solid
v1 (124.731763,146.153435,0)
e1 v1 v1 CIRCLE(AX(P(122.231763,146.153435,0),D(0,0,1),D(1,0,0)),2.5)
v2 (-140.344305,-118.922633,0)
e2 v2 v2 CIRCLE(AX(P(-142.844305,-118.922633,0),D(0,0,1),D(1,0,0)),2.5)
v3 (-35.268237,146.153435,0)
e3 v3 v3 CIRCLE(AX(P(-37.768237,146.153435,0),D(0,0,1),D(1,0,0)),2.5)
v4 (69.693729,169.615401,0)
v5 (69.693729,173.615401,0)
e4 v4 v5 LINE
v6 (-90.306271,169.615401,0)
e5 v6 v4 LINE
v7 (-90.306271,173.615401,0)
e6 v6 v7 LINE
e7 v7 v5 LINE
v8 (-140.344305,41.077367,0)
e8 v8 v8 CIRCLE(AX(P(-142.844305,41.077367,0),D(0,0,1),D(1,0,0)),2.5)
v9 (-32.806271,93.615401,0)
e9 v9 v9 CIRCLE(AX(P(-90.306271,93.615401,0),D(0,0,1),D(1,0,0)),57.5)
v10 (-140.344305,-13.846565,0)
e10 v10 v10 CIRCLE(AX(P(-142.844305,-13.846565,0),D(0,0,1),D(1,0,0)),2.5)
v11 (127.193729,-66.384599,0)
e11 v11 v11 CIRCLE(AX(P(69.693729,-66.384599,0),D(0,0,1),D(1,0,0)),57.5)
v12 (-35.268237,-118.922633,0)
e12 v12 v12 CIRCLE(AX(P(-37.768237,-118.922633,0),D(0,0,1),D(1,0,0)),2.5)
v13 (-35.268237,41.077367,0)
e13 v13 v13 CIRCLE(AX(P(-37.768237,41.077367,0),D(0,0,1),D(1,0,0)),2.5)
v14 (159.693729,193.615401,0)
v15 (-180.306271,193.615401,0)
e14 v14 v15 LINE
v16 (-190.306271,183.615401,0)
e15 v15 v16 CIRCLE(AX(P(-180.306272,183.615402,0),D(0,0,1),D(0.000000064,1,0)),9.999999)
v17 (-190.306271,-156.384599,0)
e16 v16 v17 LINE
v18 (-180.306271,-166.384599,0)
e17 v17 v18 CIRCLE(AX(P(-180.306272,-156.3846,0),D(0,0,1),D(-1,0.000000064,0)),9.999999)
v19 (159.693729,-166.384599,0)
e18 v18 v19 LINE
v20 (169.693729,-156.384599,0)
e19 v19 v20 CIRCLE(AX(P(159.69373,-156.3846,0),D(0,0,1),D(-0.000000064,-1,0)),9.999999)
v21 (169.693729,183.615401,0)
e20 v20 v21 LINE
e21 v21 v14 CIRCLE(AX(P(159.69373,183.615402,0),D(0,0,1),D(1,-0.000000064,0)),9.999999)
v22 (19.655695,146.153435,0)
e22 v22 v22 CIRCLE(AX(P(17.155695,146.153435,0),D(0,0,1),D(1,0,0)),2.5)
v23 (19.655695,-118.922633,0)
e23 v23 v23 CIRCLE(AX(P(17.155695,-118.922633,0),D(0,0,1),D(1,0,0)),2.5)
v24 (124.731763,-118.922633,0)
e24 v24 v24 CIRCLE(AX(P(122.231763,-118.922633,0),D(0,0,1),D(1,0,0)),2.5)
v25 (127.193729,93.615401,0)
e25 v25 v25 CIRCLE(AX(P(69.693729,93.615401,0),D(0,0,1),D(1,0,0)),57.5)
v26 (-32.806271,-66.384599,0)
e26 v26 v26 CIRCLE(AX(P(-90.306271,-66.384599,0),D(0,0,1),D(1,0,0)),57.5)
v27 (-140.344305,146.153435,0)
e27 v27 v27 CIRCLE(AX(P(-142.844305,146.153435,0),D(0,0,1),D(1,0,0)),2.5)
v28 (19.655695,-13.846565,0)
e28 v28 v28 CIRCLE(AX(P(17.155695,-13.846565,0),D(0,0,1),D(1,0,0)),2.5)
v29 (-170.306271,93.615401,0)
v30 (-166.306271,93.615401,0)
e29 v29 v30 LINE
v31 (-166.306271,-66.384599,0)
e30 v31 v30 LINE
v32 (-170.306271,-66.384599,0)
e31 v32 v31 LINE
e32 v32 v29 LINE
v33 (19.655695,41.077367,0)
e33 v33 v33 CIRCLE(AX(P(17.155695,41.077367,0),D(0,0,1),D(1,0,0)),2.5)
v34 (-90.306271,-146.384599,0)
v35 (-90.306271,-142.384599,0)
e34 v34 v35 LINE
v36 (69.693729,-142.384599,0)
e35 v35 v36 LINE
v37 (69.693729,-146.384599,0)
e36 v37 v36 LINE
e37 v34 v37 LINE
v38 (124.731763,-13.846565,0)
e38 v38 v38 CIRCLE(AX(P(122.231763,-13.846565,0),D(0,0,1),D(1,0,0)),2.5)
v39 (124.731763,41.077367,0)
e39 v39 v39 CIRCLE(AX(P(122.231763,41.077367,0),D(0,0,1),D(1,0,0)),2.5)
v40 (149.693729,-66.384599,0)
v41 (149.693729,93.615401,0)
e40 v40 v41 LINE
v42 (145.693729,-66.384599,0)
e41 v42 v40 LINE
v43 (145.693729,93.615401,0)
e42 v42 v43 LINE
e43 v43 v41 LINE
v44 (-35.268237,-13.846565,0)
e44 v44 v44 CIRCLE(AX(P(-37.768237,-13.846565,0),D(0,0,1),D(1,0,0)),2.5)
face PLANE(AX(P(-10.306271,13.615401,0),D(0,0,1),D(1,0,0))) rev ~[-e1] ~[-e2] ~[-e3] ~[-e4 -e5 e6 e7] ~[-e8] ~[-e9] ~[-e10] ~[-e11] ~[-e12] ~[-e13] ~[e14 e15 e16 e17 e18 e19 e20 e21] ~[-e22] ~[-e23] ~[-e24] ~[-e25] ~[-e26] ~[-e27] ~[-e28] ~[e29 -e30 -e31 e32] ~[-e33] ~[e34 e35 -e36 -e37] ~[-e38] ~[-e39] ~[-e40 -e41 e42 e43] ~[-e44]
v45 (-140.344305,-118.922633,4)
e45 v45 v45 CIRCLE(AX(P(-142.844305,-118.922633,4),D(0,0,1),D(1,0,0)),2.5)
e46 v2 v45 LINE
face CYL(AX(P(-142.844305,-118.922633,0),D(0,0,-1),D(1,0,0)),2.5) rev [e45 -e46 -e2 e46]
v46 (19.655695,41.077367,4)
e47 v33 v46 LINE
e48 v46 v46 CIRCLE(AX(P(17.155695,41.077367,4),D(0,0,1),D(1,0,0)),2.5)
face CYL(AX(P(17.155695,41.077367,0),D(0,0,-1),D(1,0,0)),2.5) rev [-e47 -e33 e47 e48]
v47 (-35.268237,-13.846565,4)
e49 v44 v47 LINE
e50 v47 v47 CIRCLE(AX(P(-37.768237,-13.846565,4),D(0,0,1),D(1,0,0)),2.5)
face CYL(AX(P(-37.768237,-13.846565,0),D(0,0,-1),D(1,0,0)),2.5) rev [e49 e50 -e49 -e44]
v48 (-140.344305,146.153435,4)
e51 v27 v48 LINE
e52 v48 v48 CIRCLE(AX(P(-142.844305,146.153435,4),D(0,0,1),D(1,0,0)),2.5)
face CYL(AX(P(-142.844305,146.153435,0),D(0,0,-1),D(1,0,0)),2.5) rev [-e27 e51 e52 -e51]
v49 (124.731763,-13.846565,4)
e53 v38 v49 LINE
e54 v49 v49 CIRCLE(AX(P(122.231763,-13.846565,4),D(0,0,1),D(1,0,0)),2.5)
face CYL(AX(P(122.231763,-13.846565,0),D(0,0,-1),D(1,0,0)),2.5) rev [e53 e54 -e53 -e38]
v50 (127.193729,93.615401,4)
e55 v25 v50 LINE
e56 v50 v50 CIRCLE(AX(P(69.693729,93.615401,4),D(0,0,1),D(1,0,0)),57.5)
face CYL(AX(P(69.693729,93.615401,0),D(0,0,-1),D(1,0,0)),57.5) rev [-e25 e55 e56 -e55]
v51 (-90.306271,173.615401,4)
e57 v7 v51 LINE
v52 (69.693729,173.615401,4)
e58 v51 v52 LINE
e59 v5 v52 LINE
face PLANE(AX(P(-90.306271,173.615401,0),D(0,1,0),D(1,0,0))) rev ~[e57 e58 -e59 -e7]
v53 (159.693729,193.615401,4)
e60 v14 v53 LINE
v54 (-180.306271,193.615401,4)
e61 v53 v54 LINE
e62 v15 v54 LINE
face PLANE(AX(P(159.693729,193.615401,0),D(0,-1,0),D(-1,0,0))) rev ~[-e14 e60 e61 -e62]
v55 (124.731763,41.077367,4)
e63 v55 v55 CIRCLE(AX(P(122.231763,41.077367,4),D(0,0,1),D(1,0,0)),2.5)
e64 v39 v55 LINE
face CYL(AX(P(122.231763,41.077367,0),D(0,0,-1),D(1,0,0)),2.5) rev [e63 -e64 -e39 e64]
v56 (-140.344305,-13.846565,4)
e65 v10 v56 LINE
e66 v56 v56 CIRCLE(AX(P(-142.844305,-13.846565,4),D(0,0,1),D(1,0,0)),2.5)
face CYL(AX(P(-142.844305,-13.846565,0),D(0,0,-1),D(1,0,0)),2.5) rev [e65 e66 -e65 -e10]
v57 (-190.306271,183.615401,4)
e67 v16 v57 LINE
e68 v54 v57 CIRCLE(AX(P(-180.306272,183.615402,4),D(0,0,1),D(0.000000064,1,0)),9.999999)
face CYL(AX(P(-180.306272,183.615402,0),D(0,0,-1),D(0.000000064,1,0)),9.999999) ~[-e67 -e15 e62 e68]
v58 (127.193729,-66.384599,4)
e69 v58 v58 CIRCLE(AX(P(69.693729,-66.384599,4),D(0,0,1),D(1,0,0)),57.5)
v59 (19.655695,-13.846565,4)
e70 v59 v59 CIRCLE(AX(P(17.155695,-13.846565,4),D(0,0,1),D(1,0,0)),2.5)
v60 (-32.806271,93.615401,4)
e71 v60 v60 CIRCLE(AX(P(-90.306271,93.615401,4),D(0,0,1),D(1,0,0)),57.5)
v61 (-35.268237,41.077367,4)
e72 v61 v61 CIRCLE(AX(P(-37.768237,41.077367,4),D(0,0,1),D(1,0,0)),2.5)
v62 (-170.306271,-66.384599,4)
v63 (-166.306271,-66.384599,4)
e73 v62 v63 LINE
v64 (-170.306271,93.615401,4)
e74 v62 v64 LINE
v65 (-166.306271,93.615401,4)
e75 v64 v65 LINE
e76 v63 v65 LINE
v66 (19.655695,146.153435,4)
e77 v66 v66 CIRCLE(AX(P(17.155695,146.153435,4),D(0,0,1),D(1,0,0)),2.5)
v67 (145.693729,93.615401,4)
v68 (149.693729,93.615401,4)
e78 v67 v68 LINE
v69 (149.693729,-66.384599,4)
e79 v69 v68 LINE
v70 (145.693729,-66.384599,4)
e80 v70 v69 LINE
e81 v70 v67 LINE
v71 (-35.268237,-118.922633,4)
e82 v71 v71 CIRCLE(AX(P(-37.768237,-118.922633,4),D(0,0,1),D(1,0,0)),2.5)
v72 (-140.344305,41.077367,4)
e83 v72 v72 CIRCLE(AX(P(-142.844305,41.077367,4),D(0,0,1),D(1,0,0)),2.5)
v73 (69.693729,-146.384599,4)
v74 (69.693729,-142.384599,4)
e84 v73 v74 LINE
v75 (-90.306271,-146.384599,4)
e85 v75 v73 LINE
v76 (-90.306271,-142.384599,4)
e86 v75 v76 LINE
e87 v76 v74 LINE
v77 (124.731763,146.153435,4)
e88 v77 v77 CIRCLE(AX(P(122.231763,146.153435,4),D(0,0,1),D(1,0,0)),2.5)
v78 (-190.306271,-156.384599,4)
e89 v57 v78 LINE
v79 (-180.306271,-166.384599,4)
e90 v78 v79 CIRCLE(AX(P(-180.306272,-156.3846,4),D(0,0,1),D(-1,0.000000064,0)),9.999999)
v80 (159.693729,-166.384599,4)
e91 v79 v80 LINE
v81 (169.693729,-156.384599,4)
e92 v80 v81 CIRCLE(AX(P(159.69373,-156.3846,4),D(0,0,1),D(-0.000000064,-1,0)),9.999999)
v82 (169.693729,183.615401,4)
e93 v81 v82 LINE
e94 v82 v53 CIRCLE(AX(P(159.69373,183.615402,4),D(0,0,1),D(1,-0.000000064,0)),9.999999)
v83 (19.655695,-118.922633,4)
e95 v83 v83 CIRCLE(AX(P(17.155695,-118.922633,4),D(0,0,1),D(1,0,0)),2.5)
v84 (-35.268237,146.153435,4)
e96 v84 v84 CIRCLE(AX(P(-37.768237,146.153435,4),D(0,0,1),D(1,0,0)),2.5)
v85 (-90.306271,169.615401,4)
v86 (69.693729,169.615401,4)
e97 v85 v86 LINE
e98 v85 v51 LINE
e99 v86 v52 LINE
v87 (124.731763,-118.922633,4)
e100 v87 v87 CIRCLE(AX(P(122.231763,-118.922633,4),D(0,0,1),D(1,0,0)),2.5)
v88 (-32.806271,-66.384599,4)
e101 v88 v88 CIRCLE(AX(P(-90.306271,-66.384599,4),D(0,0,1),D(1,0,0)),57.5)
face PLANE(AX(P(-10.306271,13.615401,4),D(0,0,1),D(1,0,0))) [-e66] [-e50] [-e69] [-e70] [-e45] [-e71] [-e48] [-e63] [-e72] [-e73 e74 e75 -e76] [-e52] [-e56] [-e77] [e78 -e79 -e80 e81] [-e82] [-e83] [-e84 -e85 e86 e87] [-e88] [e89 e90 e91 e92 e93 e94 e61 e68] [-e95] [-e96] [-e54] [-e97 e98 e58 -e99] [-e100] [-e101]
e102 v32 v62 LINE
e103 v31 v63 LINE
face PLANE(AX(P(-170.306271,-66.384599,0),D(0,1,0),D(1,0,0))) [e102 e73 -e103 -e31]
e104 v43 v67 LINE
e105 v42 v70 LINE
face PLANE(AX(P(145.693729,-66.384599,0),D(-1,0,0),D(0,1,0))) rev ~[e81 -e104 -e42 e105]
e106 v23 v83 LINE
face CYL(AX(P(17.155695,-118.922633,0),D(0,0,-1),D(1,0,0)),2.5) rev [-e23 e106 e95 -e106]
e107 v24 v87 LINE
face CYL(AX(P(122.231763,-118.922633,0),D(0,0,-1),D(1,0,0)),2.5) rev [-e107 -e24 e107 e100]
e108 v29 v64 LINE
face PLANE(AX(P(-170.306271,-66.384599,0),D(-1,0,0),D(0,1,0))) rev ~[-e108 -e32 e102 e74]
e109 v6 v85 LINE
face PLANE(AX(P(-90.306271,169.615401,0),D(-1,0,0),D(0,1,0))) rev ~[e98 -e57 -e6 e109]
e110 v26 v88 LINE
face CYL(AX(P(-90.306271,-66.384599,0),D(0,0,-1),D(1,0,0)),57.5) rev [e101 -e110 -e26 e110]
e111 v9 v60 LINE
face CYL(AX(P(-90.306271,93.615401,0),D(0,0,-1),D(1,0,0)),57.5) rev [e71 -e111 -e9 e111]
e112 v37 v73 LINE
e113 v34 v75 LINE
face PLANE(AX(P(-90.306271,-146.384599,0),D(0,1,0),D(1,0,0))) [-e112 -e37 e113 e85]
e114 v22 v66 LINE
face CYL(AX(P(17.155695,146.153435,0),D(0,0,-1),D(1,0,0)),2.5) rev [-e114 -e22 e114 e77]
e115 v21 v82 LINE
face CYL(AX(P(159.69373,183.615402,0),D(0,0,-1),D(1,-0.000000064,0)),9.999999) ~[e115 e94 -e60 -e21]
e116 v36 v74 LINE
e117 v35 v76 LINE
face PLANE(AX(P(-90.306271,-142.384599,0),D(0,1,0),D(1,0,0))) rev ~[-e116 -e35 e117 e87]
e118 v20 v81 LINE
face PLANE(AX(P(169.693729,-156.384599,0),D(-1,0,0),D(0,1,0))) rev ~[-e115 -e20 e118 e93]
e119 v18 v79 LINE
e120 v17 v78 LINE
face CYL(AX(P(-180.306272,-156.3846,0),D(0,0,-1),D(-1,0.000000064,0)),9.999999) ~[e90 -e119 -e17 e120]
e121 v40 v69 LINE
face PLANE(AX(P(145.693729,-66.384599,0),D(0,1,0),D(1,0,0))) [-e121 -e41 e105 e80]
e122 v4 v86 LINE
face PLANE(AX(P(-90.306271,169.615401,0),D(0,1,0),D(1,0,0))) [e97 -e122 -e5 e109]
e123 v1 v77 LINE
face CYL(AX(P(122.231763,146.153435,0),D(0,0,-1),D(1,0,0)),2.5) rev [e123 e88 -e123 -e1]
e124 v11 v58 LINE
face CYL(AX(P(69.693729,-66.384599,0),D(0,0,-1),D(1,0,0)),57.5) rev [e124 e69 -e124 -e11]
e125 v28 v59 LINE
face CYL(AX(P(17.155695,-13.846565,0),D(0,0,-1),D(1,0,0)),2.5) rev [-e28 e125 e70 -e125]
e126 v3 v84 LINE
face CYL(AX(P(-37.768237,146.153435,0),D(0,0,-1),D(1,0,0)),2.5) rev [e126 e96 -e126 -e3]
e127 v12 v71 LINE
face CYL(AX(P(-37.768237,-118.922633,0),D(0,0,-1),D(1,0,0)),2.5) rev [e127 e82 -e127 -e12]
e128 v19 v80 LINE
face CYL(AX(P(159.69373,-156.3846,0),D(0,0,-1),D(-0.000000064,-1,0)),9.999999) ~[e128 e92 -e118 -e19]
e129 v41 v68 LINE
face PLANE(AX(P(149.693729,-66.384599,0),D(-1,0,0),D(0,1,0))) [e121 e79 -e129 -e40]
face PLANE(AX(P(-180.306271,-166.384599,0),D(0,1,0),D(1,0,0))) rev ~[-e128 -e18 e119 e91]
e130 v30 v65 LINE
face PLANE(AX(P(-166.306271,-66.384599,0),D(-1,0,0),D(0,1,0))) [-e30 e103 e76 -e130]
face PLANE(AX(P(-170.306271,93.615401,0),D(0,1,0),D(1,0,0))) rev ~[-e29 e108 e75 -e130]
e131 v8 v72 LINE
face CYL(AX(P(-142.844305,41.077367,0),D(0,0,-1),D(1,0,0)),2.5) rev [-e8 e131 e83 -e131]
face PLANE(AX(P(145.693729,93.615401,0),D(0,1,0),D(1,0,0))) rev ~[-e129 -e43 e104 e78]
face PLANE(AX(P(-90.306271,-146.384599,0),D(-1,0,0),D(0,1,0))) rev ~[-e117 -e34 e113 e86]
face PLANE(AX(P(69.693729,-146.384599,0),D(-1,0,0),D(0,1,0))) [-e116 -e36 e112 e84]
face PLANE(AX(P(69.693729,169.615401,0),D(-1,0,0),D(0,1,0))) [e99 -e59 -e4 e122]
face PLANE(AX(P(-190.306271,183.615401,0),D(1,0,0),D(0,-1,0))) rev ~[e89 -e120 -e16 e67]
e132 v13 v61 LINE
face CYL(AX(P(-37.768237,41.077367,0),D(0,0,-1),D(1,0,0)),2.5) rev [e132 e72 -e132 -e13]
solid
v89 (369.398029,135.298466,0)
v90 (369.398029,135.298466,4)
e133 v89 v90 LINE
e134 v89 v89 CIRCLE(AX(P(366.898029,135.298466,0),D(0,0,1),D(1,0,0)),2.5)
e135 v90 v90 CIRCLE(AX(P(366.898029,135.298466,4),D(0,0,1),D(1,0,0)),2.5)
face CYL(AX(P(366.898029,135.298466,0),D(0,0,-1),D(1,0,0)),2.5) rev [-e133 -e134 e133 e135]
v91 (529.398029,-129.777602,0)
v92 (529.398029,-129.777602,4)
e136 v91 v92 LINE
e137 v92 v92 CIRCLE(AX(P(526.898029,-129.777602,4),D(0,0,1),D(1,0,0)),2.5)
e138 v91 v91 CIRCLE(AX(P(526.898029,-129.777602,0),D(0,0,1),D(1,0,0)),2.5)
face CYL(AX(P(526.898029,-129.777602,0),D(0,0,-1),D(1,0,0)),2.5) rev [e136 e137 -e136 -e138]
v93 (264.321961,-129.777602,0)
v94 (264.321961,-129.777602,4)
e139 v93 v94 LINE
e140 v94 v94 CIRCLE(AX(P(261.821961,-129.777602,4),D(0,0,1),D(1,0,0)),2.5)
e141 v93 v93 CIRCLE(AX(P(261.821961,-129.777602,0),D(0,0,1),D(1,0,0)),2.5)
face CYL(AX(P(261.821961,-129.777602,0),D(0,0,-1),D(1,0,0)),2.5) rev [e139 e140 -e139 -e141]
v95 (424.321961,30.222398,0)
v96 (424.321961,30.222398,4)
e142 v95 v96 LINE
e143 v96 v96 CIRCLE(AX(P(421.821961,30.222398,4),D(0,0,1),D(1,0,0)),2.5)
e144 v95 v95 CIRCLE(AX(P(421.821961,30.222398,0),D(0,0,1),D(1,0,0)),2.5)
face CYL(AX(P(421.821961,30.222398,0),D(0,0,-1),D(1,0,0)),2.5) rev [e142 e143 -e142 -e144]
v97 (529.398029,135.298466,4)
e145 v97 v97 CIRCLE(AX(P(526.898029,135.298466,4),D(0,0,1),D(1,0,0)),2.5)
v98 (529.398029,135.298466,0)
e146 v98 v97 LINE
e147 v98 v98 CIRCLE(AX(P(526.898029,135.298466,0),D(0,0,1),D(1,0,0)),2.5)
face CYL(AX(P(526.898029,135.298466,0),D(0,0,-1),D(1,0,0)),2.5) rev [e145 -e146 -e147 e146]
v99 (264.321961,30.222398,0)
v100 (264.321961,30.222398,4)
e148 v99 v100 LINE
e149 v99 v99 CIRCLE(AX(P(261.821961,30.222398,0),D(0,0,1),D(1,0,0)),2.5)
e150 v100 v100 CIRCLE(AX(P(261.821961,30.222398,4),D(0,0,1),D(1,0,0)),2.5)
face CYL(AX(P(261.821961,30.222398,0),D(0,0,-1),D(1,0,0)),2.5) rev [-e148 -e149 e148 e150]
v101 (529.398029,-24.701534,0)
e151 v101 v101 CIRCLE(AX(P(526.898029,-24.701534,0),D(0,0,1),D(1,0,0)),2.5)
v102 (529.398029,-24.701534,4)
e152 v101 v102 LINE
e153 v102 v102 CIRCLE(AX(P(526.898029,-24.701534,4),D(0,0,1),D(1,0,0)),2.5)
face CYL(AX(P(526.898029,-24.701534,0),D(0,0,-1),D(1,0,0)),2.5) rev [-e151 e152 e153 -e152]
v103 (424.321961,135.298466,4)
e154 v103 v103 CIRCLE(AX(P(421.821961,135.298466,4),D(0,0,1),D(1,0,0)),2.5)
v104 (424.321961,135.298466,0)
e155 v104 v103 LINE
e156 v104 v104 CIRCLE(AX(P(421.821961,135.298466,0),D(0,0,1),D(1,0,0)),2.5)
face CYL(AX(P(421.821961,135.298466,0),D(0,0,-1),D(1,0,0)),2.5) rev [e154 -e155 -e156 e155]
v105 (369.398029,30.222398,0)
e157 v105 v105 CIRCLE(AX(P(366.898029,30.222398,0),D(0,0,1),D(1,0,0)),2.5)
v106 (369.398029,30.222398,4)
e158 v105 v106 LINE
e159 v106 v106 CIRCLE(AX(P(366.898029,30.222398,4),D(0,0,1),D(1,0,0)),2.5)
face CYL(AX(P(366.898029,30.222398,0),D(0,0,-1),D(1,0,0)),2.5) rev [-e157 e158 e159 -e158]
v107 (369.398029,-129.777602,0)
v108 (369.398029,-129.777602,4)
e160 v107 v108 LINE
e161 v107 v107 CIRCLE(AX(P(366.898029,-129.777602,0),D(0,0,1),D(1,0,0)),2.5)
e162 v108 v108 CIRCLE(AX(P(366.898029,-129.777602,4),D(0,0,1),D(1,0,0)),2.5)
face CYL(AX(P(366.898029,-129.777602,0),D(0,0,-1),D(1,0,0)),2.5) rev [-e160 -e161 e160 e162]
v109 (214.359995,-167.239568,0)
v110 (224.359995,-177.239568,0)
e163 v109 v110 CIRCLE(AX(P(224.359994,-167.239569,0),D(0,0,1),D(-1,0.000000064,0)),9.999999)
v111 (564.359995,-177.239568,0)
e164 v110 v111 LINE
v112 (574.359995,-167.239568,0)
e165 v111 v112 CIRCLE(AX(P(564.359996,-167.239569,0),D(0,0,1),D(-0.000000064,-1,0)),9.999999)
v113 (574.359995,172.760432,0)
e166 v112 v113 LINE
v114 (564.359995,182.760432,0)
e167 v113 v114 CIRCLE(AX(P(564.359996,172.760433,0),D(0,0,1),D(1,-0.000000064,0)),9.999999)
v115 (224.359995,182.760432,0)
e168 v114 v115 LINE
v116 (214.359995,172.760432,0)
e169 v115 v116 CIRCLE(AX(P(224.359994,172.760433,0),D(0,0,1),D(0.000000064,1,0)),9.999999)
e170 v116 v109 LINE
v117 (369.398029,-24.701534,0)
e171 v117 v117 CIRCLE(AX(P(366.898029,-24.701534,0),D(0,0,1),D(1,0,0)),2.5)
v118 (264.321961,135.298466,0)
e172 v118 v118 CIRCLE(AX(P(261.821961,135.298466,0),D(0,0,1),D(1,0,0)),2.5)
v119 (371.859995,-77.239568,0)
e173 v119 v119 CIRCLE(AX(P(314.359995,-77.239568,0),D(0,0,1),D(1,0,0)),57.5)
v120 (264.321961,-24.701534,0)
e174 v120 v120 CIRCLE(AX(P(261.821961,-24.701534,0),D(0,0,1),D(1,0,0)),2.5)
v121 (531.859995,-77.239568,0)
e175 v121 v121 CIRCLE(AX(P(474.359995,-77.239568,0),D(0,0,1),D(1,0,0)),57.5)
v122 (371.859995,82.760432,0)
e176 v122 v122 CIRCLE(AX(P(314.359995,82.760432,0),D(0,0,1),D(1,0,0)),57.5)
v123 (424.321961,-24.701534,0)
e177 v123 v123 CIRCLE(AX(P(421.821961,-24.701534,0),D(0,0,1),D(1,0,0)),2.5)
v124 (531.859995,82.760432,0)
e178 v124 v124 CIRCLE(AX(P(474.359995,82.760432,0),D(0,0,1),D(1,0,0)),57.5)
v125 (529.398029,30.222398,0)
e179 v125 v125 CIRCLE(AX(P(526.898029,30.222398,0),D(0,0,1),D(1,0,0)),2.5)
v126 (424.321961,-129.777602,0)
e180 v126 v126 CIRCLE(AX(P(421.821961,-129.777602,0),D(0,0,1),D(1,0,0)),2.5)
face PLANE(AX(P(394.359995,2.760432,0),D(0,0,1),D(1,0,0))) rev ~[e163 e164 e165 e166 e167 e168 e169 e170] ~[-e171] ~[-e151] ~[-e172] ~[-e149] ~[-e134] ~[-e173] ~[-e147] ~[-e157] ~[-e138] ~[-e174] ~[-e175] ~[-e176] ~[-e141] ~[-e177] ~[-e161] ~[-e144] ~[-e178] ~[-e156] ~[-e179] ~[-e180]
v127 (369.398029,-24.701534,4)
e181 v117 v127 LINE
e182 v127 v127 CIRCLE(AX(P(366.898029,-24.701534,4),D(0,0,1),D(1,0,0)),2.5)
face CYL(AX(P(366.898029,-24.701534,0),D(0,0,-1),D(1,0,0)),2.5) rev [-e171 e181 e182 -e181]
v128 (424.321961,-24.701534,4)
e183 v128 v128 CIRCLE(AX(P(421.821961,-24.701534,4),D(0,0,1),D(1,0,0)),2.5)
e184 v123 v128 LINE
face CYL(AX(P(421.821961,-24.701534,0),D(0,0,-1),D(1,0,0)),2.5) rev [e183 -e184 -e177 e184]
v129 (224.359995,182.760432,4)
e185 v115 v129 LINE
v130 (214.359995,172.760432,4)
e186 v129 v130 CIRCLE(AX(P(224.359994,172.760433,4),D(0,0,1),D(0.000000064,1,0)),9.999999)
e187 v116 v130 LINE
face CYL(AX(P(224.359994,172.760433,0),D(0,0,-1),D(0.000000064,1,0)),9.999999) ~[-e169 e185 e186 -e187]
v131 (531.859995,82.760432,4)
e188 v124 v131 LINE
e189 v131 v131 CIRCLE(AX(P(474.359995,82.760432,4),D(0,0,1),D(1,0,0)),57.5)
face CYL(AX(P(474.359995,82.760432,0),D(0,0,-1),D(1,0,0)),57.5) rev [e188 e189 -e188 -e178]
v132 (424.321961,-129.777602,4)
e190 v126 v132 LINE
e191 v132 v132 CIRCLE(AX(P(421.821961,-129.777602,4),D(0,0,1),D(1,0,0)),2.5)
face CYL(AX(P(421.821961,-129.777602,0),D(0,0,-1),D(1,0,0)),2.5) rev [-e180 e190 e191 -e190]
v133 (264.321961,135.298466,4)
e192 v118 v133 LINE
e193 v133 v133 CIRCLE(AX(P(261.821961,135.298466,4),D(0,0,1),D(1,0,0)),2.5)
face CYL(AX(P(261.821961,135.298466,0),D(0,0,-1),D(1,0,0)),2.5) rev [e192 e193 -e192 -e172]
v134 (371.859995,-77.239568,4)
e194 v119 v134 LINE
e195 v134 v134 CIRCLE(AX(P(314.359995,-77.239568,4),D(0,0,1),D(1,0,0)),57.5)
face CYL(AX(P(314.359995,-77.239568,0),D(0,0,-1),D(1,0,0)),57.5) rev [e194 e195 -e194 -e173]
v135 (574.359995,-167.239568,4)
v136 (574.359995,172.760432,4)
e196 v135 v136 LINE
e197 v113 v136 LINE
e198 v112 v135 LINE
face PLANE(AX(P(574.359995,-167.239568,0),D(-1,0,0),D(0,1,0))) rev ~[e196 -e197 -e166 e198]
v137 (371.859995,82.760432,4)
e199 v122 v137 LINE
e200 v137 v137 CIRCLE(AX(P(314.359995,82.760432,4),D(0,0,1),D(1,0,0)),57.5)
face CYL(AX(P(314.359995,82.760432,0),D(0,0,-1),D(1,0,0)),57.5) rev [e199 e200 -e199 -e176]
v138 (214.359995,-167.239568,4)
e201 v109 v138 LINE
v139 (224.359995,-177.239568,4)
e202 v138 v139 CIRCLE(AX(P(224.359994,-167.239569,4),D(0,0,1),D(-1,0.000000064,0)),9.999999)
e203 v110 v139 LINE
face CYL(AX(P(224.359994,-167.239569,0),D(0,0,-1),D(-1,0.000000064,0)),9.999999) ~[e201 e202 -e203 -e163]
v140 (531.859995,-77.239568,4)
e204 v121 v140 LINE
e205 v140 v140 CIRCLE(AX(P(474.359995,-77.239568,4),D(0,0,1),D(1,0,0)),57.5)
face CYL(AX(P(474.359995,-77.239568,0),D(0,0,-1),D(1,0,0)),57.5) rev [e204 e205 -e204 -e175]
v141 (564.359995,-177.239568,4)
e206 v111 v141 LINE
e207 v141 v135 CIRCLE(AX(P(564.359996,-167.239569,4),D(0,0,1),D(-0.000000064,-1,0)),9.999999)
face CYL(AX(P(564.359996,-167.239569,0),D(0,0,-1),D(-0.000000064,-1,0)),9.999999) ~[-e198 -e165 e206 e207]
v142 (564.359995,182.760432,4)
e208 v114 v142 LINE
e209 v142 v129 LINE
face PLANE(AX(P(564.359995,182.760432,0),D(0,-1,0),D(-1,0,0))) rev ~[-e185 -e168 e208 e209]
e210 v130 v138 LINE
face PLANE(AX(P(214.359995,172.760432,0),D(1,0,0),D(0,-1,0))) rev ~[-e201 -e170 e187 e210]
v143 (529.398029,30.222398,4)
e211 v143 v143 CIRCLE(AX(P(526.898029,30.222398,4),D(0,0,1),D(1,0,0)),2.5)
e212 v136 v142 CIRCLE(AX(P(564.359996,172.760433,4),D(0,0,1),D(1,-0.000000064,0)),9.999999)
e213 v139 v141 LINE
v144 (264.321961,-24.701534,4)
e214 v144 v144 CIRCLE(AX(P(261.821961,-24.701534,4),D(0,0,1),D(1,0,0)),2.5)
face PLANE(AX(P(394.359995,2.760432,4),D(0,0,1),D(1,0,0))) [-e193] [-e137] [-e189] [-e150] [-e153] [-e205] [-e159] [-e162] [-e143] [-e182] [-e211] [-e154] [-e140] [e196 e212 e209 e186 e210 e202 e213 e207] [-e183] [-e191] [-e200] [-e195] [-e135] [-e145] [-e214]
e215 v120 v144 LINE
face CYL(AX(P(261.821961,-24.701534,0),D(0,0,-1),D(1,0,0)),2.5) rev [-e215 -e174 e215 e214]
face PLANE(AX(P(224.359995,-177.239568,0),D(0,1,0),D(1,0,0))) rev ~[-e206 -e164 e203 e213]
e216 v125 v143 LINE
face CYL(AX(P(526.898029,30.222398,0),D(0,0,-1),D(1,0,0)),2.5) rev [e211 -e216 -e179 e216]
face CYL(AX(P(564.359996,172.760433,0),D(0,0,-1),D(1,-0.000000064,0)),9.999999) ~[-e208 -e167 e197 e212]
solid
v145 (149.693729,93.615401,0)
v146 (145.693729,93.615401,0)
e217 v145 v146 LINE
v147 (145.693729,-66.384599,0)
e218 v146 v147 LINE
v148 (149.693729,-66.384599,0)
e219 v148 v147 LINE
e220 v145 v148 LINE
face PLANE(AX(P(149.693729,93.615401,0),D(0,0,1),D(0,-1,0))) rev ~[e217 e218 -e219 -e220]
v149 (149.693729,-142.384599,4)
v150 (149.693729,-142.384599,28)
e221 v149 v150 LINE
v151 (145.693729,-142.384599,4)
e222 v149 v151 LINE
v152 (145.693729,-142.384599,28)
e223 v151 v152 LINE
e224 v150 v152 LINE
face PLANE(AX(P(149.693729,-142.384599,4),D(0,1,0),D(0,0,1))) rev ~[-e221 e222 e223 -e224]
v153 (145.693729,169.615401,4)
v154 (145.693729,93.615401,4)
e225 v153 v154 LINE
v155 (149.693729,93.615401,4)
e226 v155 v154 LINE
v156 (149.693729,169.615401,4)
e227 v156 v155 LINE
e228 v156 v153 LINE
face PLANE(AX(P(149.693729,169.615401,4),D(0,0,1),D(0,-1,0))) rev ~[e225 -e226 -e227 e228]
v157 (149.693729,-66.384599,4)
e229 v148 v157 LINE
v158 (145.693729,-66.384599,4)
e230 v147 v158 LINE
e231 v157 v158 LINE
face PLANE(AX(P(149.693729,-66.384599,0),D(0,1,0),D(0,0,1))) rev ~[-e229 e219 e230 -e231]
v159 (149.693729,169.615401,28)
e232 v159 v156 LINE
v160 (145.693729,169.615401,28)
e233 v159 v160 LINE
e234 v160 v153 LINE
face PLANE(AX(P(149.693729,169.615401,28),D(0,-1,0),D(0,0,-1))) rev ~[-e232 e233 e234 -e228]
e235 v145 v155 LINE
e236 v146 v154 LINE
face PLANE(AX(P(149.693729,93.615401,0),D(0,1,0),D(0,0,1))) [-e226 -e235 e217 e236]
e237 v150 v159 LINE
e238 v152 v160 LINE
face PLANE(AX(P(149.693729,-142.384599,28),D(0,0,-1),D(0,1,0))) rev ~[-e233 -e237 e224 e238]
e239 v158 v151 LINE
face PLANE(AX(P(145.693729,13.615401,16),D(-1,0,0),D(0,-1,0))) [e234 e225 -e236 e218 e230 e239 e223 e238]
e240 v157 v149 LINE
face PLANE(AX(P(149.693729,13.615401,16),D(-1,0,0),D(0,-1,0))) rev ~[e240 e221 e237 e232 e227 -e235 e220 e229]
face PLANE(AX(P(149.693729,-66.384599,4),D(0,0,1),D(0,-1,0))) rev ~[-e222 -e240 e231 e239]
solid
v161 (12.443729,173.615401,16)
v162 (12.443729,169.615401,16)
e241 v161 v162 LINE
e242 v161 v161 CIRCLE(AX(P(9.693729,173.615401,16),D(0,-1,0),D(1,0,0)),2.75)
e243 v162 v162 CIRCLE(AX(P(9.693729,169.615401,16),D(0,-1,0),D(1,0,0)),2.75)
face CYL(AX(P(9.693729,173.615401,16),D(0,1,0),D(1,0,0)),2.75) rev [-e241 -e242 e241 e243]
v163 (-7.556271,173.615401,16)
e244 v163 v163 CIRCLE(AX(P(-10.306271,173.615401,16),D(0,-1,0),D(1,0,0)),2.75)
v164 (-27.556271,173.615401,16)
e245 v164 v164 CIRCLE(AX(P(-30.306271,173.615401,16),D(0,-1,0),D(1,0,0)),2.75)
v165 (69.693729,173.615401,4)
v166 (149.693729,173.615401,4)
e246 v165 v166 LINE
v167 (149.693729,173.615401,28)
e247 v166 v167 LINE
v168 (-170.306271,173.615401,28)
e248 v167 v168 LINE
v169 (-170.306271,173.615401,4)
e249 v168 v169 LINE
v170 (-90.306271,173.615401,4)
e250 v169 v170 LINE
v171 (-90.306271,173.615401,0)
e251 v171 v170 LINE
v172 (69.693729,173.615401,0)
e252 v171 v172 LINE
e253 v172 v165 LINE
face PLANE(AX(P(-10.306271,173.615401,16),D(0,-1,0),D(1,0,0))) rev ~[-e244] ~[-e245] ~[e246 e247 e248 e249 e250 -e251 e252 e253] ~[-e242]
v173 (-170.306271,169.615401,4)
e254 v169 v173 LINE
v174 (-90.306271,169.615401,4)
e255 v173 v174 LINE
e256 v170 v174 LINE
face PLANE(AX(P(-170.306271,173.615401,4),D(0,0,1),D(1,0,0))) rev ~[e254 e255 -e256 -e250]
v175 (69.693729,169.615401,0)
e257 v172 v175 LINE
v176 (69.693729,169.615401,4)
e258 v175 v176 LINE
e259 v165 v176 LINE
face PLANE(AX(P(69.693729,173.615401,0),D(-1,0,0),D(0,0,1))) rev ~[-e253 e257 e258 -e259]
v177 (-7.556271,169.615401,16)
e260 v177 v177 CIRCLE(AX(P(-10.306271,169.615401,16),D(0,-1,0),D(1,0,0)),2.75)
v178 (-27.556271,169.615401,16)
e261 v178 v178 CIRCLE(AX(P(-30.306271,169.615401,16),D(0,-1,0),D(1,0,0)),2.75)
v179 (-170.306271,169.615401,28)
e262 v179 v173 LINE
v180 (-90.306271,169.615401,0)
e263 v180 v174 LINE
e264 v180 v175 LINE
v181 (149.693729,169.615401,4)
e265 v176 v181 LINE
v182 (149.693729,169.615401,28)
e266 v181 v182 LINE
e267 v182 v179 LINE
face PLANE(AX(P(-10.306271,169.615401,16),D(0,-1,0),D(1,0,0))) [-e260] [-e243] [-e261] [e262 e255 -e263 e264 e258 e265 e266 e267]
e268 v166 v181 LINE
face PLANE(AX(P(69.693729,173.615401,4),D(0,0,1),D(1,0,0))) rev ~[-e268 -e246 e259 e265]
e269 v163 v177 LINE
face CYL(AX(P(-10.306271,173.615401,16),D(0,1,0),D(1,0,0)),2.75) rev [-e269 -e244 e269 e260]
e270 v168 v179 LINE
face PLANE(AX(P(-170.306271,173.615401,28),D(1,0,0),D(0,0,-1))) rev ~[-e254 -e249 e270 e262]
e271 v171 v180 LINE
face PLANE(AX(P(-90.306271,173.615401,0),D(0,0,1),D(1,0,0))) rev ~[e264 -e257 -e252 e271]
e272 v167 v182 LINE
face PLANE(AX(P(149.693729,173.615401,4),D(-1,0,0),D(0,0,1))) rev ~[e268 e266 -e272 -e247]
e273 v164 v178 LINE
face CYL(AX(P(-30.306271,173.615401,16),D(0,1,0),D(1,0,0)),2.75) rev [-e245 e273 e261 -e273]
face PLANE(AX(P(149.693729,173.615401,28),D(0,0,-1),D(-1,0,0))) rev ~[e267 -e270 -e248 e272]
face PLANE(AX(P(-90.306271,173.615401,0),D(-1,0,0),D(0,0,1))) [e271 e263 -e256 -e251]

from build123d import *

# Parameters (mm, degrees)
F0_W     = 160
F0_H     = 4
F0_R     = 2.5
F0_R_2   = 57.5
F0_W_2   = 4
F0_H_2   = 160
F1_DEPTH = 4
F2_R     = 2.75
F2_W     = 160
F2_H     = 4
F3_DEPTH = 4
F4_W     = 160
F4_H     = 4
F5_DEPTH = 4


with BuildPart() as f1:
    # F0 (on Top) → F1 (new body)
    with BuildSketch(Plane.XY):
        with BuildLine():
            Line((159.693729, 193.615401), (-180.306271, 193.615401))
            ThreePointArc((-180.306271, 193.615401), (-187.377339, 190.686469), (-190.306271, 183.615401))
            Line((-190.306271, 183.615401), (-190.306271, -156.384599))
            ThreePointArc((-190.306271, -156.384599), (-187.377339, -163.455667), (-180.306271, -166.384599))
            Line((-180.306271, -166.384599), (159.693729, -166.384599))
            ThreePointArc((159.693729, -166.384599), (166.764797, -163.455667), (169.693729, -156.384599))
            Line((169.693729, -156.384599), (169.693729, 183.615401))
            ThreePointArc((169.693729, 183.615401), (166.764797, 190.686469), (159.693729, 193.615401))
        make_face()
        with Locations((-10.306271, -144.384599)):
            Rectangle(F0_W, F0_H, mode=Mode.SUBTRACT)
        with Locations((-142.844305, -118.922633)):
            Circle(F0_R, mode=Mode.SUBTRACT)
        with Locations((-37.768237, -118.922633)):
            Circle(F0_R, mode=Mode.SUBTRACT)
        with Locations((17.155695, -118.922633)):
            Circle(F0_R, mode=Mode.SUBTRACT)
        with Locations((122.231763, -118.922633)):
            Circle(F0_R, mode=Mode.SUBTRACT)
        with Locations((-90.306271, -66.384599)):
            Circle(F0_R_2, mode=Mode.SUBTRACT)
        with Locations((-142.844305, -13.846565)):
            Circle(F0_R, mode=Mode.SUBTRACT)
        with Locations((-37.768237, -13.846565)):
            Circle(F0_R, mode=Mode.SUBTRACT)
        with Locations((69.693729, -66.384599)):
            Circle(F0_R_2, mode=Mode.SUBTRACT)
        with Locations((17.155695, -13.846565)):
            Circle(F0_R, mode=Mode.SUBTRACT)
        with Locations((122.231763, -13.846565)):
            Circle(F0_R, mode=Mode.SUBTRACT)
        with Locations((-168.306271, 13.615401)):
            Rectangle(F0_W_2, F0_H_2, mode=Mode.SUBTRACT)
        with Locations((-142.844305, 41.077367)):
            Circle(F0_R, mode=Mode.SUBTRACT)
        with Locations((-37.768237, 41.077367)):
            Circle(F0_R, mode=Mode.SUBTRACT)
        with Locations((-90.306271, 93.615401)):
            Circle(F0_R_2, mode=Mode.SUBTRACT)
        with Locations((17.155695, 41.077367)):
            Circle(F0_R, mode=Mode.SUBTRACT)
        with Locations((147.693729, 13.615401)):
            Rectangle(F0_W_2, F0_H_2, mode=Mode.SUBTRACT)
        with Locations((122.231763, 41.077367)):
            Circle(F0_R, mode=Mode.SUBTRACT)
        with Locations((69.693729, 93.615401)):
            Circle(F0_R_2, mode=Mode.SUBTRACT)
        with Locations((-142.844305, 146.153435)):
            Circle(F0_R, mode=Mode.SUBTRACT)
        with Locations((-37.768237, 146.153435)):
            Circle(F0_R, mode=Mode.SUBTRACT)
        with Locations((-10.306271, 171.615401)):
            Rectangle(F0_W, F0_H, mode=Mode.SUBTRACT)
        with Locations((17.155695, 146.153435)):
            Circle(F0_R, mode=Mode.SUBTRACT)
        with Locations((122.231763, 146.153435)):
            Circle(F0_R, mode=Mode.SUBTRACT)
        with BuildLine():
            Line((564.359995, 182.760432), (224.359995, 182.760432))
            ThreePointArc((224.359995, 182.760432), (217.288927, 179.8315), (214.359995, 172.760432))
            Line((214.359995, 172.760432), (214.359995, -167.239568))
            ThreePointArc((214.359995, -167.239568), (217.288927, -174.310636), (224.359995, -177.239568))
            Line((224.359995, -177.239568), (564.359995, -177.239568))
            ThreePointArc((564.359995, -177.239568), (571.431063, -174.310636), (574.359995, -167.239568))
            Line((574.359995, -167.239568), (574.359995, 172.760432))
            ThreePointArc((574.359995, 172.760432), (571.431063, 179.8315), (564.359995, 182.760432))
        make_face()
        with Locations((261.821961, -129.777602)):
            Circle(F0_R, mode=Mode.SUBTRACT)
        with Locations((366.898029, -129.777602)):
            Circle(F0_R, mode=Mode.SUBTRACT)
        with Locations((421.821961, -129.777602)):
            Circle(F0_R, mode=Mode.SUBTRACT)
        with Locations((526.898029, -129.777602)):
            Circle(F0_R, mode=Mode.SUBTRACT)
        with Locations((314.359995, -77.239568)):
            Circle(F0_R_2, mode=Mode.SUBTRACT)
        with Locations((261.821961, -24.701534)):
            Circle(F0_R, mode=Mode.SUBTRACT)
        with Locations((366.898029, -24.701534)):
            Circle(F0_R, mode=Mode.SUBTRACT)
        with Locations((474.359995, -77.239568)):
            Circle(F0_R_2, mode=Mode.SUBTRACT)
        with Locations((421.821961, -24.701534)):
            Circle(F0_R, mode=Mode.SUBTRACT)
        with Locations((526.898029, -24.701534)):
            Circle(F0_R, mode=Mode.SUBTRACT)
        with Locations((261.821961, 30.222398)):
            Circle(F0_R, mode=Mode.SUBTRACT)
        with Locations((366.898029, 30.222398)):
            Circle(F0_R, mode=Mode.SUBTRACT)
        with Locations((314.359995, 82.760432)):
            Circle(F0_R_2, mode=Mode.SUBTRACT)
        with Locations((421.821961, 30.222398)):
            Circle(F0_R, mode=Mode.SUBTRACT)
        with Locations((526.898029, 30.222398)):
            Circle(F0_R, mode=Mode.SUBTRACT)
        with Locations((474.359995, 82.760432)):
            Circle(F0_R_2, mode=Mode.SUBTRACT)
        with Locations((261.821961, 135.298466)):
            Circle(F0_R, mode=Mode.SUBTRACT)
        with Locations((366.898029, 135.298466)):
            Circle(F0_R, mode=Mode.SUBTRACT)
        with Locations((421.821961, 135.298466)):
            Circle(F0_R, mode=Mode.SUBTRACT)
        with Locations((526.898029, 135.298466)):
            Circle(F0_R, mode=Mode.SUBTRACT)
    extrude(amount=F1_DEPTH)


with BuildPart() as f3:
    # F2 (on face) → F3 (new body)
    with BuildSketch(Plane.XZ.offset(-173.615401)):
        Polygon((-170.306271, 4), (-90.306271, 4), (69.693729, 4), (149.693729, 4), (149.693729, 28), (-170.306271, 28), align=None)
        with Locations((-30.306271, 16)):
            Circle(F2_R, mode=Mode.SUBTRACT)
        with Locations((-10.306271, 16)):
            Circle(F2_R, mode=Mode.SUBTRACT)
        with Locations((9.693729, 16)):
            Circle(F2_R, mode=Mode.SUBTRACT)
        with Locations((-10.306271, 2)):
            Rectangle(F2_W, F2_H)
    extrude(amount=F3_DEPTH)


with BuildPart() as f5:
    # F4 (on face) → F5 (new body)
    with BuildSketch(Plane(origin=(149.693729, 0, 0), x_dir=(0, -1, 0), z_dir=(-1, 0, 0))):
        Polygon((-169.615401, 4), (-93.615401, 4), (66.384599, 4), (142.384599, 4), (142.384599, 28), (-169.615401, 28), align=None)
        with Locations((-13.615401, 2)):
            Rectangle(F4_W, F4_H)
    extrude(amount=F5_DEPTH)


solid = Compound([f1.part, f3.part, f5.part])
